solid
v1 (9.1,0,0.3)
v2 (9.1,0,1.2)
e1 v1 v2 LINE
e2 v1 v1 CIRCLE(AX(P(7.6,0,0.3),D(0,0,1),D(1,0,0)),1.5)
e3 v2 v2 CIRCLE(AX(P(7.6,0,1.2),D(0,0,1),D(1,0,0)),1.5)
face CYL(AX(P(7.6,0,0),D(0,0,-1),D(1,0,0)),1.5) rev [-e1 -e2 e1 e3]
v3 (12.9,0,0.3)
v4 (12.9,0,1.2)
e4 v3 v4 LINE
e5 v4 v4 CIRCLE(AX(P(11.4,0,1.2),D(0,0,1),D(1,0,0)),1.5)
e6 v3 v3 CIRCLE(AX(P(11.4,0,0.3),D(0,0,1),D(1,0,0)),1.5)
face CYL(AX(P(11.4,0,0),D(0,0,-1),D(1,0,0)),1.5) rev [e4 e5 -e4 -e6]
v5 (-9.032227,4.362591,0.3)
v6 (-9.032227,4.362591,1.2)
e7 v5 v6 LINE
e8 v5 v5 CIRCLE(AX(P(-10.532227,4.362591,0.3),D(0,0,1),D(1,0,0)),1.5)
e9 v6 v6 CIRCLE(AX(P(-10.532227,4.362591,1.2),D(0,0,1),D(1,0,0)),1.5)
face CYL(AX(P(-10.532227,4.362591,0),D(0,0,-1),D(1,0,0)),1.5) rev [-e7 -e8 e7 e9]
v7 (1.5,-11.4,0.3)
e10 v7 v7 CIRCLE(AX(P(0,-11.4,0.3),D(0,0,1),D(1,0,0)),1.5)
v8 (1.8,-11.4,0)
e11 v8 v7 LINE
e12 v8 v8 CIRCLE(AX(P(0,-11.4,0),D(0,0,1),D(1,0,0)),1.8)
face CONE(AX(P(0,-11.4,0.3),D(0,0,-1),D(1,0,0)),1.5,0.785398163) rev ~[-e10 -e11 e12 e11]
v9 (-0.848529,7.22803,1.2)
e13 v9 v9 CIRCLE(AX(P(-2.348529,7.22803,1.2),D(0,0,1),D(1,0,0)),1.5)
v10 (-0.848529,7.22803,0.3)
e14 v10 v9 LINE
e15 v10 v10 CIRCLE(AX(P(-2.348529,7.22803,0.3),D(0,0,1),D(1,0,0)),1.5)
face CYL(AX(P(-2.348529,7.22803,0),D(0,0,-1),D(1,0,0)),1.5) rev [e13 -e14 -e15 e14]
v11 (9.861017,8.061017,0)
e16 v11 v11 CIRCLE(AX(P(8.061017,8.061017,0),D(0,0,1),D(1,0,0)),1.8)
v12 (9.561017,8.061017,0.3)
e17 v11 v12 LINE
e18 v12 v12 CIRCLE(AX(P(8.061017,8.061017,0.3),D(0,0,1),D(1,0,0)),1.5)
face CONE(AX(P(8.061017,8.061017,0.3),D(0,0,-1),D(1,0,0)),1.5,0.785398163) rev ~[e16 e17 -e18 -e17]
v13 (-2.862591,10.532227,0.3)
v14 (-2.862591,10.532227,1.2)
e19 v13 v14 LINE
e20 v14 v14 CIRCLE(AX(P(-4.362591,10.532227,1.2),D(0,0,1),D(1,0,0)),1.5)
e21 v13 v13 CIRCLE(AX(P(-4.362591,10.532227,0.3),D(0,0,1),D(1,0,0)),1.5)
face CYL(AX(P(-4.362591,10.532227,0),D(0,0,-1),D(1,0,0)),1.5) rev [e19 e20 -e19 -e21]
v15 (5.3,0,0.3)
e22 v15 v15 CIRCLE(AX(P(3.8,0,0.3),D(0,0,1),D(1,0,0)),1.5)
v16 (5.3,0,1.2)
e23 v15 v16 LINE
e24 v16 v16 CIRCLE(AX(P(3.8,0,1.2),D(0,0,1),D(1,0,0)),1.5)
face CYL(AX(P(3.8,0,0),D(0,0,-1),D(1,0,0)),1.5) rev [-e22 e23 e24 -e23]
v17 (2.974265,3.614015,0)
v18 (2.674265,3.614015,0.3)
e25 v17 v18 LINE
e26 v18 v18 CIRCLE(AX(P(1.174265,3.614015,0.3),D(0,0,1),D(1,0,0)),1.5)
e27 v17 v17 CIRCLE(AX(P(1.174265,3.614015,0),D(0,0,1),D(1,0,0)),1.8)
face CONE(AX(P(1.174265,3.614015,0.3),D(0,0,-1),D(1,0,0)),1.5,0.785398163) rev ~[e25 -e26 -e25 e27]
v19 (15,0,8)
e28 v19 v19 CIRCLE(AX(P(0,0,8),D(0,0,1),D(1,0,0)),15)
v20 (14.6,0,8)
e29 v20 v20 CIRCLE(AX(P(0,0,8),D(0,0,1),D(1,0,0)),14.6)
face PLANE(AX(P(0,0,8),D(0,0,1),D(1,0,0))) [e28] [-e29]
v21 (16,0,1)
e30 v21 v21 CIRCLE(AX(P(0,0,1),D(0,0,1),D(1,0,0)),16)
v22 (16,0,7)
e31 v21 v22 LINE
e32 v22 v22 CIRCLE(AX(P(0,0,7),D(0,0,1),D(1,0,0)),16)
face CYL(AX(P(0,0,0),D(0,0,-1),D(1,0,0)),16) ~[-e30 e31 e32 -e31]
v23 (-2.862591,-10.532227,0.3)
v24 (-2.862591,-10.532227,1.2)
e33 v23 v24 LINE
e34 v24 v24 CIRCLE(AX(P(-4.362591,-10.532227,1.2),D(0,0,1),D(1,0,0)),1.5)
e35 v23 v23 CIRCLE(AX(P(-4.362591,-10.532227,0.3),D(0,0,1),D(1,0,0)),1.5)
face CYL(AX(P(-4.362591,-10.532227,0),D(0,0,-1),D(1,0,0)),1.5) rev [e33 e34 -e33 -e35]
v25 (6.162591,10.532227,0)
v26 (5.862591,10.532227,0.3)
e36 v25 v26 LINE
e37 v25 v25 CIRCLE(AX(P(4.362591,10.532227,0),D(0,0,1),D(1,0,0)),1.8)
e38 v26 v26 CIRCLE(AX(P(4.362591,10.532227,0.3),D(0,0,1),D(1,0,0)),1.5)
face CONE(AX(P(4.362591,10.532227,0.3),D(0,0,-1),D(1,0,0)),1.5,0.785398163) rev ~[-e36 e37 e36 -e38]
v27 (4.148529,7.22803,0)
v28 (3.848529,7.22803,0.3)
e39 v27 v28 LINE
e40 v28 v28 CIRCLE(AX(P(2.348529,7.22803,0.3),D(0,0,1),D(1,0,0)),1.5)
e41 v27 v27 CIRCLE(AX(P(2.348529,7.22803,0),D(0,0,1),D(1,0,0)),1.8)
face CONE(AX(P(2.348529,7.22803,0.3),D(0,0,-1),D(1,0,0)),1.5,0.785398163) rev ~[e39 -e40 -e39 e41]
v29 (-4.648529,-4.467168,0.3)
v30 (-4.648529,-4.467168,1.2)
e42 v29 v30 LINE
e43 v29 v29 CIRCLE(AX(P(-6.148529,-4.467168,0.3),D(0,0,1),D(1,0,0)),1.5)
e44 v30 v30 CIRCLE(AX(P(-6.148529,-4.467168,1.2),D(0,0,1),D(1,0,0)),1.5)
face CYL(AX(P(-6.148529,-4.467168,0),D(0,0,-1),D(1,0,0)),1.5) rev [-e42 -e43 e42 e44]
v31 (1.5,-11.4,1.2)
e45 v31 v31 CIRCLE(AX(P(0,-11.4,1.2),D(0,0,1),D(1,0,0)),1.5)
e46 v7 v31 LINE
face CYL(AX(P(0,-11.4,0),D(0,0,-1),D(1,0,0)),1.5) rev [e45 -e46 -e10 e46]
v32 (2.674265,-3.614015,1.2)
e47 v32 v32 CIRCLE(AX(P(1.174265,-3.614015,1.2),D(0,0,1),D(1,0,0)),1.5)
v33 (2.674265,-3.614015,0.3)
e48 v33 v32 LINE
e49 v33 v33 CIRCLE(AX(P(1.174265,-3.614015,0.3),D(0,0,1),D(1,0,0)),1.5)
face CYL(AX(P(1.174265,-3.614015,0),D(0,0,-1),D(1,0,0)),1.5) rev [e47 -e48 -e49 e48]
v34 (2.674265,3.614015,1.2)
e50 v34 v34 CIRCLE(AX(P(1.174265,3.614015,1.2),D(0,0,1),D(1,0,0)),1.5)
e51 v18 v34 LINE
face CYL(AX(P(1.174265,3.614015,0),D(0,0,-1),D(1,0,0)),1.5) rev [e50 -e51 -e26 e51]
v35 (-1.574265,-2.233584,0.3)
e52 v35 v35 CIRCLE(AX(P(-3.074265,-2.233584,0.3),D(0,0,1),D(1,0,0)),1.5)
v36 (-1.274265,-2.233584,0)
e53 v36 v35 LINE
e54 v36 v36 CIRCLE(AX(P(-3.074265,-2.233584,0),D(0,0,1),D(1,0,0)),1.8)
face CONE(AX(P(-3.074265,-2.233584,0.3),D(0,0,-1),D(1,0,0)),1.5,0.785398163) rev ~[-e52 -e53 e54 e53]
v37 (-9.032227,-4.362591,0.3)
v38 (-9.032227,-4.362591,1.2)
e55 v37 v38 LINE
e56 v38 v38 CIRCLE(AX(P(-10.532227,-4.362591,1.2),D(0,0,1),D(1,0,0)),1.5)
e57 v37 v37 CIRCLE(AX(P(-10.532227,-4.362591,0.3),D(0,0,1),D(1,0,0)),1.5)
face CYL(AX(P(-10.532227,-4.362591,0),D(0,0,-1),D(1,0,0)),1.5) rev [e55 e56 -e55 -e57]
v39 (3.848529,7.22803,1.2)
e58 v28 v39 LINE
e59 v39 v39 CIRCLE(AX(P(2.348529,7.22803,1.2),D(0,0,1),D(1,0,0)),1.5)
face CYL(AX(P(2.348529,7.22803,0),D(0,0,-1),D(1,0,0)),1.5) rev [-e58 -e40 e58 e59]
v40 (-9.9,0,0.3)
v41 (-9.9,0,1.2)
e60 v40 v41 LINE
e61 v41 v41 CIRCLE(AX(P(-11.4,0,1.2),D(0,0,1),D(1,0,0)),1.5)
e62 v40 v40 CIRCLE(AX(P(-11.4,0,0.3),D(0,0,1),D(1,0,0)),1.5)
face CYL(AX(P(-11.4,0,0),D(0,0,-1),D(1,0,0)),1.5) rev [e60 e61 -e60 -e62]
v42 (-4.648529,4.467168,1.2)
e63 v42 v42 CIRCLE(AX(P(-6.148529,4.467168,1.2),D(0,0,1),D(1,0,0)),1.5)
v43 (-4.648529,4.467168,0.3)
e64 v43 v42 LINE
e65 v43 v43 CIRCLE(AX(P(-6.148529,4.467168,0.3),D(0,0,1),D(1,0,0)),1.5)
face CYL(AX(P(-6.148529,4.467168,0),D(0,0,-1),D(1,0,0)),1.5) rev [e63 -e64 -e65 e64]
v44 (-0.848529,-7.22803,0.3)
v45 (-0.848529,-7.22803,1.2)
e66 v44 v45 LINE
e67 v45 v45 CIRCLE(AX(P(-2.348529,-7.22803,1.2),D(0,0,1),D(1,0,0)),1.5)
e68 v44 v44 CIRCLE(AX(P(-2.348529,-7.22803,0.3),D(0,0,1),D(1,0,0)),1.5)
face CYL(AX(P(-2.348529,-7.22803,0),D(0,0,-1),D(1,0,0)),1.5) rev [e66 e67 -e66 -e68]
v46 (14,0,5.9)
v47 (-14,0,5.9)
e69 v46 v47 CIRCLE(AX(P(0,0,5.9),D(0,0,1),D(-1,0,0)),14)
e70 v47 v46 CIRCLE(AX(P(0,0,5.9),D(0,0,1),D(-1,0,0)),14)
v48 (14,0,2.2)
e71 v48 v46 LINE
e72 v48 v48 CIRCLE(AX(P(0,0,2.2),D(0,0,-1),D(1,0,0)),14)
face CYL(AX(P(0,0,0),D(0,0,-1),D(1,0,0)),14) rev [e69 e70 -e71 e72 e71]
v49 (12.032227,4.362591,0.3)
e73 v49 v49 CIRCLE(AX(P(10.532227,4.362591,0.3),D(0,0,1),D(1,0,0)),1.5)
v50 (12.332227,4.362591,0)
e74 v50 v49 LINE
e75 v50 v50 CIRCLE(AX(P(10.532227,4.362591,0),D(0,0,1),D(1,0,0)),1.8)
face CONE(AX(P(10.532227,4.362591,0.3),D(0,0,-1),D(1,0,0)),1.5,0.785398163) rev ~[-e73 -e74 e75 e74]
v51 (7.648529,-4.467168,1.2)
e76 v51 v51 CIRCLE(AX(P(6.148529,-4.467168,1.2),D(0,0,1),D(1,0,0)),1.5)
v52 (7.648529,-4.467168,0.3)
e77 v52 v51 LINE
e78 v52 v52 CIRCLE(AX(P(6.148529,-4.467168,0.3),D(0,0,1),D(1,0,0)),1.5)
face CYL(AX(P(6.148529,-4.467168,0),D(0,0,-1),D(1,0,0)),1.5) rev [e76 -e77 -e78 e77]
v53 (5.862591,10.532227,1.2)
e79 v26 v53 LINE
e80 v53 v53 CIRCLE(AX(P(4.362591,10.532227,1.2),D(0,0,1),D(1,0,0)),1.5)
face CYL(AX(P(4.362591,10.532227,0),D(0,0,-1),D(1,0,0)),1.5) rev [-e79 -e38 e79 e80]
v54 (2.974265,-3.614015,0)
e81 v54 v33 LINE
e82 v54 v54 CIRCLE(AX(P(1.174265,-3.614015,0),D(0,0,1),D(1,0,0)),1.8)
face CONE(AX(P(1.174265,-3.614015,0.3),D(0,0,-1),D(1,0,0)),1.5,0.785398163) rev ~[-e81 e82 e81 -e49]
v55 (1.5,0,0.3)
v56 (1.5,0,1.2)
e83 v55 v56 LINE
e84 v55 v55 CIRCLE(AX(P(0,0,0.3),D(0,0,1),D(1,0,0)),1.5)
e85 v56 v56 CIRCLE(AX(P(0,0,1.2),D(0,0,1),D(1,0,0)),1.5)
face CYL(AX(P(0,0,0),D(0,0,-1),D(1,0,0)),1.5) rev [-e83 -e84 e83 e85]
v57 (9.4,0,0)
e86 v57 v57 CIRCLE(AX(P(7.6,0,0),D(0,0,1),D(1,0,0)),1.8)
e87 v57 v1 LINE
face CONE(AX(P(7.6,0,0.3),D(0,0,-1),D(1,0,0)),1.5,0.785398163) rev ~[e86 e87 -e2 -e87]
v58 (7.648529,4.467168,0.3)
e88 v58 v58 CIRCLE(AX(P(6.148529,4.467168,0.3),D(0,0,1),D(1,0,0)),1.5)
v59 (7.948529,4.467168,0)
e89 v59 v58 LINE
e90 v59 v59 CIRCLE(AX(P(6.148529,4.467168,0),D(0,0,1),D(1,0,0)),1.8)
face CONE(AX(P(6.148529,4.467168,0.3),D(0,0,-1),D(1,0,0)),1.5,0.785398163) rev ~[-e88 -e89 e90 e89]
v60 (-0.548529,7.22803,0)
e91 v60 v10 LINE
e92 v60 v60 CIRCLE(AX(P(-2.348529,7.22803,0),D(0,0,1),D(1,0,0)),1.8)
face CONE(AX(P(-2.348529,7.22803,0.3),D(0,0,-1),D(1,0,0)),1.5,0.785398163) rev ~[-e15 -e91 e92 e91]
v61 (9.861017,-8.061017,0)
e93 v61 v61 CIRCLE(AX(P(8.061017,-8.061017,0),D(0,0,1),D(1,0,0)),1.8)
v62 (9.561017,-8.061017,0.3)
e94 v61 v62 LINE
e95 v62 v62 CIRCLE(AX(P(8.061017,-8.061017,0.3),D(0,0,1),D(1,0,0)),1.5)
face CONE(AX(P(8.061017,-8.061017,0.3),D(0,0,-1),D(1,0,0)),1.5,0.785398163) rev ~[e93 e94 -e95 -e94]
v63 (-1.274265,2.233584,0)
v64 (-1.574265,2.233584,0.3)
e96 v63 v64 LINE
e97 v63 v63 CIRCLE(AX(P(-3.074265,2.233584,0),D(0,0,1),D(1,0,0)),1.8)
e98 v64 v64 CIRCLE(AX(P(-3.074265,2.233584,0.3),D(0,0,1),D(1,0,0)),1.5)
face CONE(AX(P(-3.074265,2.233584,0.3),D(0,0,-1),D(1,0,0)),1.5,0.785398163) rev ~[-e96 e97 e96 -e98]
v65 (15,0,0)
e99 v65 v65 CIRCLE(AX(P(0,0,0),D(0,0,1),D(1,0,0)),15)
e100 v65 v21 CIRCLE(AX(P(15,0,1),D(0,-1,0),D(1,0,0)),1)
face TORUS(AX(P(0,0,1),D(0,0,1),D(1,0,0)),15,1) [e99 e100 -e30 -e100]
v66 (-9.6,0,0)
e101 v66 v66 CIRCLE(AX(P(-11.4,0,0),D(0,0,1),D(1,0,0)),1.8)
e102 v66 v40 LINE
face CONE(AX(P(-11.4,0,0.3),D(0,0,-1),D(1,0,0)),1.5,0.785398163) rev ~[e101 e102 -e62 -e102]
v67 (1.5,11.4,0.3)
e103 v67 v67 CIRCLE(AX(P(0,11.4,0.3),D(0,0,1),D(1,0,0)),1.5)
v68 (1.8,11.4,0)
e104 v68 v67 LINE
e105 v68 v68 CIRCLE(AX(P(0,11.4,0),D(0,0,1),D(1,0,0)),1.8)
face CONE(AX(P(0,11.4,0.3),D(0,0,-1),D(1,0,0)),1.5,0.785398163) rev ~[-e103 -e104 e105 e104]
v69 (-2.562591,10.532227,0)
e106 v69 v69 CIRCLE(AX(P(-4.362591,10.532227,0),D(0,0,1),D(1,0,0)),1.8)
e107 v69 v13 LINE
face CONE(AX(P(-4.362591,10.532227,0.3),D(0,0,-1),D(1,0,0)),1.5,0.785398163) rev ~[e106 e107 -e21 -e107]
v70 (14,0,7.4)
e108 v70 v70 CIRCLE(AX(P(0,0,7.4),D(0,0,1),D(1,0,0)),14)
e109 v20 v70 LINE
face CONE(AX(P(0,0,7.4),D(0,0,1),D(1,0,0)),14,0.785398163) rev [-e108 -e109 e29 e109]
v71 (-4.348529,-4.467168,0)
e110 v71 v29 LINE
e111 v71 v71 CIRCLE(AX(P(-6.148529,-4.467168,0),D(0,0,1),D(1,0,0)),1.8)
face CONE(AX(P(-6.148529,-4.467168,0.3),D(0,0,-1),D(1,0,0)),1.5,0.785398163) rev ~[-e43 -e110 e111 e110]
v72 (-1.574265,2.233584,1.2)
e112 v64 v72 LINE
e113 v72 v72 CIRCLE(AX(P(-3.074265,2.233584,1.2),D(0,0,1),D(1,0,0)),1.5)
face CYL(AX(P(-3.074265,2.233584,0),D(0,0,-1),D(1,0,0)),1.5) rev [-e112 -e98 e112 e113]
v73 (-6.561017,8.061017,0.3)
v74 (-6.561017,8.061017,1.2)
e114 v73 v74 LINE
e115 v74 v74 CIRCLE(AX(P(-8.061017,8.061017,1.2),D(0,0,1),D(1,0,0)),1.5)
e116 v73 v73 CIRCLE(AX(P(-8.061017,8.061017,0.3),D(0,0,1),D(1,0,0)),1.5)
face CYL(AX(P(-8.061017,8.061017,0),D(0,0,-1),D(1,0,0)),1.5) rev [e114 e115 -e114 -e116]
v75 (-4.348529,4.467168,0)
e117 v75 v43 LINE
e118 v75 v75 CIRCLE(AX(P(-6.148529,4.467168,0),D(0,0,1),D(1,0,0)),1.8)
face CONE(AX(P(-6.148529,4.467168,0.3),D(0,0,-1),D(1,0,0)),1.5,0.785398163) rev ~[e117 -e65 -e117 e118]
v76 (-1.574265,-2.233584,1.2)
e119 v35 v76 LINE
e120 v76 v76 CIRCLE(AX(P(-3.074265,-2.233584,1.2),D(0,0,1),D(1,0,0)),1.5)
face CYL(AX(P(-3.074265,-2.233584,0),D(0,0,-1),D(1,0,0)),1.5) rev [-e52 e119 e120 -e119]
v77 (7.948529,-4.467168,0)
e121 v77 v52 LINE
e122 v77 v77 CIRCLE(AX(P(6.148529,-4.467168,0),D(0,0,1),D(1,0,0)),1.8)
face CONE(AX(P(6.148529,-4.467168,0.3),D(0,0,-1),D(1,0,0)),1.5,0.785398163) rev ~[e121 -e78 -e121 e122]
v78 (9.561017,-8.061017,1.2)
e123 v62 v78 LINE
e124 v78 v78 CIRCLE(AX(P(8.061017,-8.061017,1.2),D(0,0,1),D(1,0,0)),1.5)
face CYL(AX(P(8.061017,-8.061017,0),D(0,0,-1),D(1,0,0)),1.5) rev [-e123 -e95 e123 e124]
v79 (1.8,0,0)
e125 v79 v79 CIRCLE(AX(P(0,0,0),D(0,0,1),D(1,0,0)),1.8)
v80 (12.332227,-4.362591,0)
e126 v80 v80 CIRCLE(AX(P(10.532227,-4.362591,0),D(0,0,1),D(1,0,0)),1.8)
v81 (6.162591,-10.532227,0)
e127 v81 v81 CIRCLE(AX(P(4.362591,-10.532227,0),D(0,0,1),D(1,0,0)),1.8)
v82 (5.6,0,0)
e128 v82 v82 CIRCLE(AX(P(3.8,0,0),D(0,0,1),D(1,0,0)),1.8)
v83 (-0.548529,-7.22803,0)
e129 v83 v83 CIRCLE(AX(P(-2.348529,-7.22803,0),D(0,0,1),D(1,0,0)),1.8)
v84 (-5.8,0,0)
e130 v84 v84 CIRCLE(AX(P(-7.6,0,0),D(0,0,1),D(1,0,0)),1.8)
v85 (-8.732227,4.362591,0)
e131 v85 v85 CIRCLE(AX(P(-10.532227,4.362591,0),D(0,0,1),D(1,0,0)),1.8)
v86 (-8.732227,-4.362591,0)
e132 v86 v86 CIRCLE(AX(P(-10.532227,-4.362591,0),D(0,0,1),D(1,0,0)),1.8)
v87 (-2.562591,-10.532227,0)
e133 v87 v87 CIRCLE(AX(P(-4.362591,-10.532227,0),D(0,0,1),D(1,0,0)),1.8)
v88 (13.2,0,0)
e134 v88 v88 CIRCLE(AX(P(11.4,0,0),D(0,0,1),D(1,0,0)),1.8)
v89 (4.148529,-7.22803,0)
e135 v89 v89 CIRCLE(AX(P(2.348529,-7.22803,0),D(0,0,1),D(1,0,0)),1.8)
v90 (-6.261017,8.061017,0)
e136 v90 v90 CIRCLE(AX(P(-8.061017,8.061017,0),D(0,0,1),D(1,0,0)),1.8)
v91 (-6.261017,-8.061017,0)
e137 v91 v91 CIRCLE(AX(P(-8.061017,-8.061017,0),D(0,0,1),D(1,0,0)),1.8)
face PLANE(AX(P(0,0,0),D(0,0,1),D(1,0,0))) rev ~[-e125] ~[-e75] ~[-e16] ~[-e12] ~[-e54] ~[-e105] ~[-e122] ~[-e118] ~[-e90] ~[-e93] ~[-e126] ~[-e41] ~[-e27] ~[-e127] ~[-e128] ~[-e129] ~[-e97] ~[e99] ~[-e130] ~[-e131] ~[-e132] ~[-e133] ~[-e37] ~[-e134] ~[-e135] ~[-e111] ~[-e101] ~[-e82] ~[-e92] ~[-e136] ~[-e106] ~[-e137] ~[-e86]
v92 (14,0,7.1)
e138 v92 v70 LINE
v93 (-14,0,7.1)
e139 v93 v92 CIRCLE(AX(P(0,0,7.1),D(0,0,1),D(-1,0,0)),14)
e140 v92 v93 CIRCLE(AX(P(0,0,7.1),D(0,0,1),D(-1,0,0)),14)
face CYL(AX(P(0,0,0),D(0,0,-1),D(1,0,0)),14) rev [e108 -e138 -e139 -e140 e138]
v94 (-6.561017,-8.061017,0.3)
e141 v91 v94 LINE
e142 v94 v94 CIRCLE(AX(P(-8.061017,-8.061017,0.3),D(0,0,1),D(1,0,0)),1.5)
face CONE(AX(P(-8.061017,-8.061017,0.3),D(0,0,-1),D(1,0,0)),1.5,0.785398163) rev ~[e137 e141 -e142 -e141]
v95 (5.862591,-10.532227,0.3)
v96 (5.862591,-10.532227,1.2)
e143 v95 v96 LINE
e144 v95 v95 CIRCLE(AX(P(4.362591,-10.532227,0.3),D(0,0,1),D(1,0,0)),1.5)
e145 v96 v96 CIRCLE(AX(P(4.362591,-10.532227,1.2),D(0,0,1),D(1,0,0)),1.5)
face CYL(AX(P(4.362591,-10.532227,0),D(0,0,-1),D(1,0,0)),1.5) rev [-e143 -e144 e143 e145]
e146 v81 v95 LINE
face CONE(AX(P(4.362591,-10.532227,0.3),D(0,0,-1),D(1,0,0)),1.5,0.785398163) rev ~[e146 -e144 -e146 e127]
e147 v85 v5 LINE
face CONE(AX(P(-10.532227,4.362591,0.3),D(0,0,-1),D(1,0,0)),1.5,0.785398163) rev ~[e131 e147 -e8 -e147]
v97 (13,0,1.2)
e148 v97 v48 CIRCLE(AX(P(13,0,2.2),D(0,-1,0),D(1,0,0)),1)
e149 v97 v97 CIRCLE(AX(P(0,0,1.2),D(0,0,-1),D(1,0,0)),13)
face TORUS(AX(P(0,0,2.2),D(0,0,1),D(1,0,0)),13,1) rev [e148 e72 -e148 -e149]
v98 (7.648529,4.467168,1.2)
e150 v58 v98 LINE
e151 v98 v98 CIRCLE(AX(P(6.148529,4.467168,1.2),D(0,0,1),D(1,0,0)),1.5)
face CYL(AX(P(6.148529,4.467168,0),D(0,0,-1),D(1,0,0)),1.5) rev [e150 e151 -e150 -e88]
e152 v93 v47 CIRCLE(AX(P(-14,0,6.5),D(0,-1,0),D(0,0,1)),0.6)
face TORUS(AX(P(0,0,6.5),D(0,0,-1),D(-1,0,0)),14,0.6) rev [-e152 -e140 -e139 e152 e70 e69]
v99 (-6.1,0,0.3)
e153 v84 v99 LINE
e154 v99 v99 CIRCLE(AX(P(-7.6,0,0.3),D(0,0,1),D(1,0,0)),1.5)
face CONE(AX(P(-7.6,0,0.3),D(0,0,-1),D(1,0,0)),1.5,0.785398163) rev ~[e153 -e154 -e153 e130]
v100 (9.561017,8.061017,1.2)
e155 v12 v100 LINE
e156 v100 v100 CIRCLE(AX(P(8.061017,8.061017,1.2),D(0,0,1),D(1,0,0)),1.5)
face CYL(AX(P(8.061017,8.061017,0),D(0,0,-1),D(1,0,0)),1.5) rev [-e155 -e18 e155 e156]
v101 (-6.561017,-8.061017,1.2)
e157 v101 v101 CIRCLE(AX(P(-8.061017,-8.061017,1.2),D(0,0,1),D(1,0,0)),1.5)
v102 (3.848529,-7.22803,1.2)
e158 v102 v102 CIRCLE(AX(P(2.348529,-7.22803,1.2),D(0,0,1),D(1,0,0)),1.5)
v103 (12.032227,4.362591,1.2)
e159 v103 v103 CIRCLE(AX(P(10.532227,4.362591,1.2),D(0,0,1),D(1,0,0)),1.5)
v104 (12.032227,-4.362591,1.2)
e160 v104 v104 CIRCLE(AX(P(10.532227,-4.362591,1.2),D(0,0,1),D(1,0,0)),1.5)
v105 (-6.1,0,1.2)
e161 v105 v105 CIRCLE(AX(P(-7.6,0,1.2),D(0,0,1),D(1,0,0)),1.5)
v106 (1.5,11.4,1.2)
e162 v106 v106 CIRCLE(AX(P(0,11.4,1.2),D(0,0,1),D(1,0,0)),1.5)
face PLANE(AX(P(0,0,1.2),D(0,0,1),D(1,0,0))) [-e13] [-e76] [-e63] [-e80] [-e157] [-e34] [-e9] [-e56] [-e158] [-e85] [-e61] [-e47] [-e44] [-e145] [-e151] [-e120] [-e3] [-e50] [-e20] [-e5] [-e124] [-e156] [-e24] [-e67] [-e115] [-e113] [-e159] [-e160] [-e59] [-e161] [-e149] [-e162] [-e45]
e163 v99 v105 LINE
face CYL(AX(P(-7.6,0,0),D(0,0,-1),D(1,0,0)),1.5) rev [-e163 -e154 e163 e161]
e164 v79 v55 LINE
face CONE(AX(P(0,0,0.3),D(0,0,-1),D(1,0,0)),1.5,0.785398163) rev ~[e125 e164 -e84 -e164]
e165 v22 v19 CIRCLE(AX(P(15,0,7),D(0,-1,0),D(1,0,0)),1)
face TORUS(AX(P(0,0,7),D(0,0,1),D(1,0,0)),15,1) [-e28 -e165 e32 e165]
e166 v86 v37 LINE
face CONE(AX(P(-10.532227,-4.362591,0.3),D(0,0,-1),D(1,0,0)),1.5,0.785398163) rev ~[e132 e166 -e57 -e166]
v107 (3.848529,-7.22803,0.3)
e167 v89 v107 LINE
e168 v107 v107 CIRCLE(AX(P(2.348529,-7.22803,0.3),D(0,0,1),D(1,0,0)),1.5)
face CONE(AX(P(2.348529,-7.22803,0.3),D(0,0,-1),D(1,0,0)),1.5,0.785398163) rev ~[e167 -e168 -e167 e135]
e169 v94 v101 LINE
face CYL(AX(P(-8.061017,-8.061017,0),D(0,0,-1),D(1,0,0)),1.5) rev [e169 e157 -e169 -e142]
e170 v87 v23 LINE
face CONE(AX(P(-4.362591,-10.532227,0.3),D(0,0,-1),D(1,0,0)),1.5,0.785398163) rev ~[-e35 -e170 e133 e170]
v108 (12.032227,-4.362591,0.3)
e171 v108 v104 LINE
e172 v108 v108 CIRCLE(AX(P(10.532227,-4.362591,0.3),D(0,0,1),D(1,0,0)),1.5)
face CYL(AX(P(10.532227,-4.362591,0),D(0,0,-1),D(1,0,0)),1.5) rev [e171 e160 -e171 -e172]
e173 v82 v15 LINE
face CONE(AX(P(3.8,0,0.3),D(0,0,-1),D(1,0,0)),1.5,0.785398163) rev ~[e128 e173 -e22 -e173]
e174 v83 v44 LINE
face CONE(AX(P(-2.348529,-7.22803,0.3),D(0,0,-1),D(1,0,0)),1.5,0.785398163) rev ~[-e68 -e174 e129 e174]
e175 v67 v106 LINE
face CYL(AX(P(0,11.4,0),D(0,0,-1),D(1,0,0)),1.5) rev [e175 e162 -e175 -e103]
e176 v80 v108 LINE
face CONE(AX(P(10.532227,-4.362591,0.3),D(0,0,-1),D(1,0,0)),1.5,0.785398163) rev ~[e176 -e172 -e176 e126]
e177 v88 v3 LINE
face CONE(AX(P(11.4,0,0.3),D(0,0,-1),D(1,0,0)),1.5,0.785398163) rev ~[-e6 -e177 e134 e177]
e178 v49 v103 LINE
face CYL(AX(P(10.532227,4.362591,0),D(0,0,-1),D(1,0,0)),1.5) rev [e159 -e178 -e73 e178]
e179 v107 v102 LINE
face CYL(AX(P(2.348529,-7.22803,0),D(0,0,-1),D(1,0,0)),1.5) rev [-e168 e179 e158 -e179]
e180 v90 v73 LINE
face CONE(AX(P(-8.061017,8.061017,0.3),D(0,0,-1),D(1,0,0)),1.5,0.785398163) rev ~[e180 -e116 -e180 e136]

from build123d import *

# Parameters (mm, degrees)
F0_R     = 16
F0_R_2   = 14
F1_DEPTH = 8
F2_R     = 15
F2_R_2   = 1.5
F3_DEPTH = 1.2
F7_SIZE  = 0.6
F8_SIZE  = 0.3
F9_R     = 1
F10_R    = 1
F11_R    = 1


with BuildPart() as f1:
    # F0 (on Top) → F1 (new body)
    with BuildSketch(Plane.XY):
        Circle(F0_R)
        Circle(F0_R_2, mode=Mode.SUBTRACT)
    extrude(amount=F1_DEPTH)


with BuildPart() as f3:
    # F2 (on Top) → F3 (new body)
    with BuildSketch(Plane.XY):
        Circle(F2_R)
        with Locations((-8.061017, -8.061017)):
            Circle(F2_R_2, mode=Mode.SUBTRACT)
        with Locations((-4.362591, -10.532227)):
            Circle(F2_R_2, mode=Mode.SUBTRACT)
        with Locations((-10.532227, -4.362591)):
            Circle(F2_R_2, mode=Mode.SUBTRACT)
        with Locations((-6.148529, -4.467168)):
            Circle(F2_R_2, mode=Mode.SUBTRACT)
        with Locations((-2.348529, -7.22803)):
            Circle(F2_R_2, mode=Mode.SUBTRACT)
        with Locations((-3.074265, -2.233584)):
            Circle(F2_R_2, mode=Mode.SUBTRACT)
        with Locations((0, -11.4)):
            Circle(F2_R_2, mode=Mode.SUBTRACT)
        with Locations((4.362591, -10.532227)):
            Circle(F2_R_2, mode=Mode.SUBTRACT)
        with Locations((8.061017, -8.061017)):
            Circle(F2_R_2, mode=Mode.SUBTRACT)
        with Locations((2.348529, -7.22803)):
            Circle(F2_R_2, mode=Mode.SUBTRACT)
        with Locations((6.148529, -4.467168)):
            Circle(F2_R_2, mode=Mode.SUBTRACT)
        with Locations((1.174265, -3.614015)):
            Circle(F2_R_2, mode=Mode.SUBTRACT)
        with Locations((10.532227, -4.362591)):
            Circle(F2_R_2, mode=Mode.SUBTRACT)
        with Locations((-11.4, 0)):
            Circle(F2_R_2, mode=Mode.SUBTRACT)
        with Locations((-7.6, 0)):
            Circle(F2_R_2, mode=Mode.SUBTRACT)
        with Locations((-10.532227, 4.362591)):
            Circle(F2_R_2, mode=Mode.SUBTRACT)
        with Locations((-3.074265, 2.233584)):
            Circle(F2_R_2, mode=Mode.SUBTRACT)
        with Locations((-6.148529, 4.467168)):
            Circle(F2_R_2, mode=Mode.SUBTRACT)
        with Locations((-2.348529, 7.22803)):
            Circle(F2_R_2, mode=Mode.SUBTRACT)
        with Locations((-8.061017, 8.061017)):
            Circle(F2_R_2, mode=Mode.SUBTRACT)
        with Locations((-4.362591, 10.532227)):
            Circle(F2_R_2, mode=Mode.SUBTRACT)
        Circle(F2_R_2, mode=Mode.SUBTRACT)
        with Locations((1.174265, 3.614015)):
            Circle(F2_R_2, mode=Mode.SUBTRACT)
        with Locations((3.8, 0)):
            Circle(F2_R_2, mode=Mode.SUBTRACT)
        with Locations((2.348529, 7.22803)):
            Circle(F2_R_2, mode=Mode.SUBTRACT)
        with Locations((6.148529, 4.467168)):
            Circle(F2_R_2, mode=Mode.SUBTRACT)
        with Locations((7.6, 0)):
            Circle(F2_R_2, mode=Mode.SUBTRACT)
        with Locations((11.4, 0)):
            Circle(F2_R_2, mode=Mode.SUBTRACT)
        with Locations((10.532227, 4.362591)):
            Circle(F2_R_2, mode=Mode.SUBTRACT)
        with Locations((4.362591, 10.532227)):
            Circle(F2_R_2, mode=Mode.SUBTRACT)
        with Locations((0, 11.4)):
            Circle(F2_R_2, mode=Mode.SUBTRACT)
        with Locations((8.061017, 8.061017)):
            Circle(F2_R_2, mode=Mode.SUBTRACT)
    extrude(amount=F3_DEPTH)


with BuildPart() as f1_1:
    add(f1.part)

    # F4: union F3
    add(f3.part)

    # F5 (on Front) → F6 (revolve, cut)
    with BuildSketch(Plane.XZ):
        with BuildLine():
            ThreePointArc((-14, 7.1), (-14.6, 6.5), (-14, 5.9))
            Line((-14, 5.9), (-14, 7.1))
        make_face()
    revolve(axis=Axis((0, 0, 4.858873), (0, 0, 1)), mode=Mode.SUBTRACT)

    # F7
    f7_edges = [f1_1.edges().sort_by_distance(p)[0] for p in [
        (-14, 0, 8),
    ]]
    chamfer(f7_edges, length=F7_SIZE)

    # F8
    f8_edges = [f1_1.edges().sort_by_distance(p)[0] for p in [
        (-12.032227, -4.362591, 0),
        (-9.561017, -8.061017, 0),
        (-5.862591, -10.532227, 0),
        (-1.5, -11.4, 0),
        (2.862591, -10.532227, 0),
        (6.561017, -8.061017, 0),
        (9.032227, -4.362591, 0),
        (9.9, 0, 0),
        (9.032227, 4.362591, 0),
        (6.561017, 8.061017, 0),
        (2.862591, 10.532227, 0),
        (-1.5, 11.4, 0),
        (-5.862591, 10.532227, 0),
        (-9.561017, 8.061017, 0),
        (-12.032227, 4.362591, 0),
        (-12.9, 0, 0),
        (-9.1, 0, 0),
        (-7.648529, -4.467168, 0),
        (-3.848529, -7.22803, 0),
        (0.848529, -7.22803, 0),
        (4.648529, -4.467168, 0),
        (6.1, 0, 0),
        (4.648529, 4.467168, 0),
        (0.848529, 7.22803, 0),
        (-3.848529, 7.22803, 0),
        (-7.648529, 4.467168, 0),
        (-4.574265, 2.233584, 0),
        (-4.574265, -2.233584, 0),
        (-1.5, 0, 0),
        (-0.325735, 3.614015, 0),
        (-0.325735, -3.614015, 0),
        (2.3, 0, 0),
    ]]
    chamfer(f8_edges, length=F8_SIZE)

    # F9
    f9_edges = [f1_1.edges().sort_by_distance(p)[0] for p in [
        (-16, 0, 0),
    ]]
    fillet(f9_edges, radius=F9_R)

    # F10
    f10_edges = [f1_1.edges().sort_by_distance(p)[0] for p in [
        (-16, 0, 8),
    ]]
    fillet(f10_edges, radius=F10_R)

    # F11
    f11_edges = [f1_1.edges().sort_by_distance(p)[0] for p in [
        (-14, 0, 1.2),
    ]]
    fillet(f11_edges, radius=F11_R)


solid = f1_1.part
